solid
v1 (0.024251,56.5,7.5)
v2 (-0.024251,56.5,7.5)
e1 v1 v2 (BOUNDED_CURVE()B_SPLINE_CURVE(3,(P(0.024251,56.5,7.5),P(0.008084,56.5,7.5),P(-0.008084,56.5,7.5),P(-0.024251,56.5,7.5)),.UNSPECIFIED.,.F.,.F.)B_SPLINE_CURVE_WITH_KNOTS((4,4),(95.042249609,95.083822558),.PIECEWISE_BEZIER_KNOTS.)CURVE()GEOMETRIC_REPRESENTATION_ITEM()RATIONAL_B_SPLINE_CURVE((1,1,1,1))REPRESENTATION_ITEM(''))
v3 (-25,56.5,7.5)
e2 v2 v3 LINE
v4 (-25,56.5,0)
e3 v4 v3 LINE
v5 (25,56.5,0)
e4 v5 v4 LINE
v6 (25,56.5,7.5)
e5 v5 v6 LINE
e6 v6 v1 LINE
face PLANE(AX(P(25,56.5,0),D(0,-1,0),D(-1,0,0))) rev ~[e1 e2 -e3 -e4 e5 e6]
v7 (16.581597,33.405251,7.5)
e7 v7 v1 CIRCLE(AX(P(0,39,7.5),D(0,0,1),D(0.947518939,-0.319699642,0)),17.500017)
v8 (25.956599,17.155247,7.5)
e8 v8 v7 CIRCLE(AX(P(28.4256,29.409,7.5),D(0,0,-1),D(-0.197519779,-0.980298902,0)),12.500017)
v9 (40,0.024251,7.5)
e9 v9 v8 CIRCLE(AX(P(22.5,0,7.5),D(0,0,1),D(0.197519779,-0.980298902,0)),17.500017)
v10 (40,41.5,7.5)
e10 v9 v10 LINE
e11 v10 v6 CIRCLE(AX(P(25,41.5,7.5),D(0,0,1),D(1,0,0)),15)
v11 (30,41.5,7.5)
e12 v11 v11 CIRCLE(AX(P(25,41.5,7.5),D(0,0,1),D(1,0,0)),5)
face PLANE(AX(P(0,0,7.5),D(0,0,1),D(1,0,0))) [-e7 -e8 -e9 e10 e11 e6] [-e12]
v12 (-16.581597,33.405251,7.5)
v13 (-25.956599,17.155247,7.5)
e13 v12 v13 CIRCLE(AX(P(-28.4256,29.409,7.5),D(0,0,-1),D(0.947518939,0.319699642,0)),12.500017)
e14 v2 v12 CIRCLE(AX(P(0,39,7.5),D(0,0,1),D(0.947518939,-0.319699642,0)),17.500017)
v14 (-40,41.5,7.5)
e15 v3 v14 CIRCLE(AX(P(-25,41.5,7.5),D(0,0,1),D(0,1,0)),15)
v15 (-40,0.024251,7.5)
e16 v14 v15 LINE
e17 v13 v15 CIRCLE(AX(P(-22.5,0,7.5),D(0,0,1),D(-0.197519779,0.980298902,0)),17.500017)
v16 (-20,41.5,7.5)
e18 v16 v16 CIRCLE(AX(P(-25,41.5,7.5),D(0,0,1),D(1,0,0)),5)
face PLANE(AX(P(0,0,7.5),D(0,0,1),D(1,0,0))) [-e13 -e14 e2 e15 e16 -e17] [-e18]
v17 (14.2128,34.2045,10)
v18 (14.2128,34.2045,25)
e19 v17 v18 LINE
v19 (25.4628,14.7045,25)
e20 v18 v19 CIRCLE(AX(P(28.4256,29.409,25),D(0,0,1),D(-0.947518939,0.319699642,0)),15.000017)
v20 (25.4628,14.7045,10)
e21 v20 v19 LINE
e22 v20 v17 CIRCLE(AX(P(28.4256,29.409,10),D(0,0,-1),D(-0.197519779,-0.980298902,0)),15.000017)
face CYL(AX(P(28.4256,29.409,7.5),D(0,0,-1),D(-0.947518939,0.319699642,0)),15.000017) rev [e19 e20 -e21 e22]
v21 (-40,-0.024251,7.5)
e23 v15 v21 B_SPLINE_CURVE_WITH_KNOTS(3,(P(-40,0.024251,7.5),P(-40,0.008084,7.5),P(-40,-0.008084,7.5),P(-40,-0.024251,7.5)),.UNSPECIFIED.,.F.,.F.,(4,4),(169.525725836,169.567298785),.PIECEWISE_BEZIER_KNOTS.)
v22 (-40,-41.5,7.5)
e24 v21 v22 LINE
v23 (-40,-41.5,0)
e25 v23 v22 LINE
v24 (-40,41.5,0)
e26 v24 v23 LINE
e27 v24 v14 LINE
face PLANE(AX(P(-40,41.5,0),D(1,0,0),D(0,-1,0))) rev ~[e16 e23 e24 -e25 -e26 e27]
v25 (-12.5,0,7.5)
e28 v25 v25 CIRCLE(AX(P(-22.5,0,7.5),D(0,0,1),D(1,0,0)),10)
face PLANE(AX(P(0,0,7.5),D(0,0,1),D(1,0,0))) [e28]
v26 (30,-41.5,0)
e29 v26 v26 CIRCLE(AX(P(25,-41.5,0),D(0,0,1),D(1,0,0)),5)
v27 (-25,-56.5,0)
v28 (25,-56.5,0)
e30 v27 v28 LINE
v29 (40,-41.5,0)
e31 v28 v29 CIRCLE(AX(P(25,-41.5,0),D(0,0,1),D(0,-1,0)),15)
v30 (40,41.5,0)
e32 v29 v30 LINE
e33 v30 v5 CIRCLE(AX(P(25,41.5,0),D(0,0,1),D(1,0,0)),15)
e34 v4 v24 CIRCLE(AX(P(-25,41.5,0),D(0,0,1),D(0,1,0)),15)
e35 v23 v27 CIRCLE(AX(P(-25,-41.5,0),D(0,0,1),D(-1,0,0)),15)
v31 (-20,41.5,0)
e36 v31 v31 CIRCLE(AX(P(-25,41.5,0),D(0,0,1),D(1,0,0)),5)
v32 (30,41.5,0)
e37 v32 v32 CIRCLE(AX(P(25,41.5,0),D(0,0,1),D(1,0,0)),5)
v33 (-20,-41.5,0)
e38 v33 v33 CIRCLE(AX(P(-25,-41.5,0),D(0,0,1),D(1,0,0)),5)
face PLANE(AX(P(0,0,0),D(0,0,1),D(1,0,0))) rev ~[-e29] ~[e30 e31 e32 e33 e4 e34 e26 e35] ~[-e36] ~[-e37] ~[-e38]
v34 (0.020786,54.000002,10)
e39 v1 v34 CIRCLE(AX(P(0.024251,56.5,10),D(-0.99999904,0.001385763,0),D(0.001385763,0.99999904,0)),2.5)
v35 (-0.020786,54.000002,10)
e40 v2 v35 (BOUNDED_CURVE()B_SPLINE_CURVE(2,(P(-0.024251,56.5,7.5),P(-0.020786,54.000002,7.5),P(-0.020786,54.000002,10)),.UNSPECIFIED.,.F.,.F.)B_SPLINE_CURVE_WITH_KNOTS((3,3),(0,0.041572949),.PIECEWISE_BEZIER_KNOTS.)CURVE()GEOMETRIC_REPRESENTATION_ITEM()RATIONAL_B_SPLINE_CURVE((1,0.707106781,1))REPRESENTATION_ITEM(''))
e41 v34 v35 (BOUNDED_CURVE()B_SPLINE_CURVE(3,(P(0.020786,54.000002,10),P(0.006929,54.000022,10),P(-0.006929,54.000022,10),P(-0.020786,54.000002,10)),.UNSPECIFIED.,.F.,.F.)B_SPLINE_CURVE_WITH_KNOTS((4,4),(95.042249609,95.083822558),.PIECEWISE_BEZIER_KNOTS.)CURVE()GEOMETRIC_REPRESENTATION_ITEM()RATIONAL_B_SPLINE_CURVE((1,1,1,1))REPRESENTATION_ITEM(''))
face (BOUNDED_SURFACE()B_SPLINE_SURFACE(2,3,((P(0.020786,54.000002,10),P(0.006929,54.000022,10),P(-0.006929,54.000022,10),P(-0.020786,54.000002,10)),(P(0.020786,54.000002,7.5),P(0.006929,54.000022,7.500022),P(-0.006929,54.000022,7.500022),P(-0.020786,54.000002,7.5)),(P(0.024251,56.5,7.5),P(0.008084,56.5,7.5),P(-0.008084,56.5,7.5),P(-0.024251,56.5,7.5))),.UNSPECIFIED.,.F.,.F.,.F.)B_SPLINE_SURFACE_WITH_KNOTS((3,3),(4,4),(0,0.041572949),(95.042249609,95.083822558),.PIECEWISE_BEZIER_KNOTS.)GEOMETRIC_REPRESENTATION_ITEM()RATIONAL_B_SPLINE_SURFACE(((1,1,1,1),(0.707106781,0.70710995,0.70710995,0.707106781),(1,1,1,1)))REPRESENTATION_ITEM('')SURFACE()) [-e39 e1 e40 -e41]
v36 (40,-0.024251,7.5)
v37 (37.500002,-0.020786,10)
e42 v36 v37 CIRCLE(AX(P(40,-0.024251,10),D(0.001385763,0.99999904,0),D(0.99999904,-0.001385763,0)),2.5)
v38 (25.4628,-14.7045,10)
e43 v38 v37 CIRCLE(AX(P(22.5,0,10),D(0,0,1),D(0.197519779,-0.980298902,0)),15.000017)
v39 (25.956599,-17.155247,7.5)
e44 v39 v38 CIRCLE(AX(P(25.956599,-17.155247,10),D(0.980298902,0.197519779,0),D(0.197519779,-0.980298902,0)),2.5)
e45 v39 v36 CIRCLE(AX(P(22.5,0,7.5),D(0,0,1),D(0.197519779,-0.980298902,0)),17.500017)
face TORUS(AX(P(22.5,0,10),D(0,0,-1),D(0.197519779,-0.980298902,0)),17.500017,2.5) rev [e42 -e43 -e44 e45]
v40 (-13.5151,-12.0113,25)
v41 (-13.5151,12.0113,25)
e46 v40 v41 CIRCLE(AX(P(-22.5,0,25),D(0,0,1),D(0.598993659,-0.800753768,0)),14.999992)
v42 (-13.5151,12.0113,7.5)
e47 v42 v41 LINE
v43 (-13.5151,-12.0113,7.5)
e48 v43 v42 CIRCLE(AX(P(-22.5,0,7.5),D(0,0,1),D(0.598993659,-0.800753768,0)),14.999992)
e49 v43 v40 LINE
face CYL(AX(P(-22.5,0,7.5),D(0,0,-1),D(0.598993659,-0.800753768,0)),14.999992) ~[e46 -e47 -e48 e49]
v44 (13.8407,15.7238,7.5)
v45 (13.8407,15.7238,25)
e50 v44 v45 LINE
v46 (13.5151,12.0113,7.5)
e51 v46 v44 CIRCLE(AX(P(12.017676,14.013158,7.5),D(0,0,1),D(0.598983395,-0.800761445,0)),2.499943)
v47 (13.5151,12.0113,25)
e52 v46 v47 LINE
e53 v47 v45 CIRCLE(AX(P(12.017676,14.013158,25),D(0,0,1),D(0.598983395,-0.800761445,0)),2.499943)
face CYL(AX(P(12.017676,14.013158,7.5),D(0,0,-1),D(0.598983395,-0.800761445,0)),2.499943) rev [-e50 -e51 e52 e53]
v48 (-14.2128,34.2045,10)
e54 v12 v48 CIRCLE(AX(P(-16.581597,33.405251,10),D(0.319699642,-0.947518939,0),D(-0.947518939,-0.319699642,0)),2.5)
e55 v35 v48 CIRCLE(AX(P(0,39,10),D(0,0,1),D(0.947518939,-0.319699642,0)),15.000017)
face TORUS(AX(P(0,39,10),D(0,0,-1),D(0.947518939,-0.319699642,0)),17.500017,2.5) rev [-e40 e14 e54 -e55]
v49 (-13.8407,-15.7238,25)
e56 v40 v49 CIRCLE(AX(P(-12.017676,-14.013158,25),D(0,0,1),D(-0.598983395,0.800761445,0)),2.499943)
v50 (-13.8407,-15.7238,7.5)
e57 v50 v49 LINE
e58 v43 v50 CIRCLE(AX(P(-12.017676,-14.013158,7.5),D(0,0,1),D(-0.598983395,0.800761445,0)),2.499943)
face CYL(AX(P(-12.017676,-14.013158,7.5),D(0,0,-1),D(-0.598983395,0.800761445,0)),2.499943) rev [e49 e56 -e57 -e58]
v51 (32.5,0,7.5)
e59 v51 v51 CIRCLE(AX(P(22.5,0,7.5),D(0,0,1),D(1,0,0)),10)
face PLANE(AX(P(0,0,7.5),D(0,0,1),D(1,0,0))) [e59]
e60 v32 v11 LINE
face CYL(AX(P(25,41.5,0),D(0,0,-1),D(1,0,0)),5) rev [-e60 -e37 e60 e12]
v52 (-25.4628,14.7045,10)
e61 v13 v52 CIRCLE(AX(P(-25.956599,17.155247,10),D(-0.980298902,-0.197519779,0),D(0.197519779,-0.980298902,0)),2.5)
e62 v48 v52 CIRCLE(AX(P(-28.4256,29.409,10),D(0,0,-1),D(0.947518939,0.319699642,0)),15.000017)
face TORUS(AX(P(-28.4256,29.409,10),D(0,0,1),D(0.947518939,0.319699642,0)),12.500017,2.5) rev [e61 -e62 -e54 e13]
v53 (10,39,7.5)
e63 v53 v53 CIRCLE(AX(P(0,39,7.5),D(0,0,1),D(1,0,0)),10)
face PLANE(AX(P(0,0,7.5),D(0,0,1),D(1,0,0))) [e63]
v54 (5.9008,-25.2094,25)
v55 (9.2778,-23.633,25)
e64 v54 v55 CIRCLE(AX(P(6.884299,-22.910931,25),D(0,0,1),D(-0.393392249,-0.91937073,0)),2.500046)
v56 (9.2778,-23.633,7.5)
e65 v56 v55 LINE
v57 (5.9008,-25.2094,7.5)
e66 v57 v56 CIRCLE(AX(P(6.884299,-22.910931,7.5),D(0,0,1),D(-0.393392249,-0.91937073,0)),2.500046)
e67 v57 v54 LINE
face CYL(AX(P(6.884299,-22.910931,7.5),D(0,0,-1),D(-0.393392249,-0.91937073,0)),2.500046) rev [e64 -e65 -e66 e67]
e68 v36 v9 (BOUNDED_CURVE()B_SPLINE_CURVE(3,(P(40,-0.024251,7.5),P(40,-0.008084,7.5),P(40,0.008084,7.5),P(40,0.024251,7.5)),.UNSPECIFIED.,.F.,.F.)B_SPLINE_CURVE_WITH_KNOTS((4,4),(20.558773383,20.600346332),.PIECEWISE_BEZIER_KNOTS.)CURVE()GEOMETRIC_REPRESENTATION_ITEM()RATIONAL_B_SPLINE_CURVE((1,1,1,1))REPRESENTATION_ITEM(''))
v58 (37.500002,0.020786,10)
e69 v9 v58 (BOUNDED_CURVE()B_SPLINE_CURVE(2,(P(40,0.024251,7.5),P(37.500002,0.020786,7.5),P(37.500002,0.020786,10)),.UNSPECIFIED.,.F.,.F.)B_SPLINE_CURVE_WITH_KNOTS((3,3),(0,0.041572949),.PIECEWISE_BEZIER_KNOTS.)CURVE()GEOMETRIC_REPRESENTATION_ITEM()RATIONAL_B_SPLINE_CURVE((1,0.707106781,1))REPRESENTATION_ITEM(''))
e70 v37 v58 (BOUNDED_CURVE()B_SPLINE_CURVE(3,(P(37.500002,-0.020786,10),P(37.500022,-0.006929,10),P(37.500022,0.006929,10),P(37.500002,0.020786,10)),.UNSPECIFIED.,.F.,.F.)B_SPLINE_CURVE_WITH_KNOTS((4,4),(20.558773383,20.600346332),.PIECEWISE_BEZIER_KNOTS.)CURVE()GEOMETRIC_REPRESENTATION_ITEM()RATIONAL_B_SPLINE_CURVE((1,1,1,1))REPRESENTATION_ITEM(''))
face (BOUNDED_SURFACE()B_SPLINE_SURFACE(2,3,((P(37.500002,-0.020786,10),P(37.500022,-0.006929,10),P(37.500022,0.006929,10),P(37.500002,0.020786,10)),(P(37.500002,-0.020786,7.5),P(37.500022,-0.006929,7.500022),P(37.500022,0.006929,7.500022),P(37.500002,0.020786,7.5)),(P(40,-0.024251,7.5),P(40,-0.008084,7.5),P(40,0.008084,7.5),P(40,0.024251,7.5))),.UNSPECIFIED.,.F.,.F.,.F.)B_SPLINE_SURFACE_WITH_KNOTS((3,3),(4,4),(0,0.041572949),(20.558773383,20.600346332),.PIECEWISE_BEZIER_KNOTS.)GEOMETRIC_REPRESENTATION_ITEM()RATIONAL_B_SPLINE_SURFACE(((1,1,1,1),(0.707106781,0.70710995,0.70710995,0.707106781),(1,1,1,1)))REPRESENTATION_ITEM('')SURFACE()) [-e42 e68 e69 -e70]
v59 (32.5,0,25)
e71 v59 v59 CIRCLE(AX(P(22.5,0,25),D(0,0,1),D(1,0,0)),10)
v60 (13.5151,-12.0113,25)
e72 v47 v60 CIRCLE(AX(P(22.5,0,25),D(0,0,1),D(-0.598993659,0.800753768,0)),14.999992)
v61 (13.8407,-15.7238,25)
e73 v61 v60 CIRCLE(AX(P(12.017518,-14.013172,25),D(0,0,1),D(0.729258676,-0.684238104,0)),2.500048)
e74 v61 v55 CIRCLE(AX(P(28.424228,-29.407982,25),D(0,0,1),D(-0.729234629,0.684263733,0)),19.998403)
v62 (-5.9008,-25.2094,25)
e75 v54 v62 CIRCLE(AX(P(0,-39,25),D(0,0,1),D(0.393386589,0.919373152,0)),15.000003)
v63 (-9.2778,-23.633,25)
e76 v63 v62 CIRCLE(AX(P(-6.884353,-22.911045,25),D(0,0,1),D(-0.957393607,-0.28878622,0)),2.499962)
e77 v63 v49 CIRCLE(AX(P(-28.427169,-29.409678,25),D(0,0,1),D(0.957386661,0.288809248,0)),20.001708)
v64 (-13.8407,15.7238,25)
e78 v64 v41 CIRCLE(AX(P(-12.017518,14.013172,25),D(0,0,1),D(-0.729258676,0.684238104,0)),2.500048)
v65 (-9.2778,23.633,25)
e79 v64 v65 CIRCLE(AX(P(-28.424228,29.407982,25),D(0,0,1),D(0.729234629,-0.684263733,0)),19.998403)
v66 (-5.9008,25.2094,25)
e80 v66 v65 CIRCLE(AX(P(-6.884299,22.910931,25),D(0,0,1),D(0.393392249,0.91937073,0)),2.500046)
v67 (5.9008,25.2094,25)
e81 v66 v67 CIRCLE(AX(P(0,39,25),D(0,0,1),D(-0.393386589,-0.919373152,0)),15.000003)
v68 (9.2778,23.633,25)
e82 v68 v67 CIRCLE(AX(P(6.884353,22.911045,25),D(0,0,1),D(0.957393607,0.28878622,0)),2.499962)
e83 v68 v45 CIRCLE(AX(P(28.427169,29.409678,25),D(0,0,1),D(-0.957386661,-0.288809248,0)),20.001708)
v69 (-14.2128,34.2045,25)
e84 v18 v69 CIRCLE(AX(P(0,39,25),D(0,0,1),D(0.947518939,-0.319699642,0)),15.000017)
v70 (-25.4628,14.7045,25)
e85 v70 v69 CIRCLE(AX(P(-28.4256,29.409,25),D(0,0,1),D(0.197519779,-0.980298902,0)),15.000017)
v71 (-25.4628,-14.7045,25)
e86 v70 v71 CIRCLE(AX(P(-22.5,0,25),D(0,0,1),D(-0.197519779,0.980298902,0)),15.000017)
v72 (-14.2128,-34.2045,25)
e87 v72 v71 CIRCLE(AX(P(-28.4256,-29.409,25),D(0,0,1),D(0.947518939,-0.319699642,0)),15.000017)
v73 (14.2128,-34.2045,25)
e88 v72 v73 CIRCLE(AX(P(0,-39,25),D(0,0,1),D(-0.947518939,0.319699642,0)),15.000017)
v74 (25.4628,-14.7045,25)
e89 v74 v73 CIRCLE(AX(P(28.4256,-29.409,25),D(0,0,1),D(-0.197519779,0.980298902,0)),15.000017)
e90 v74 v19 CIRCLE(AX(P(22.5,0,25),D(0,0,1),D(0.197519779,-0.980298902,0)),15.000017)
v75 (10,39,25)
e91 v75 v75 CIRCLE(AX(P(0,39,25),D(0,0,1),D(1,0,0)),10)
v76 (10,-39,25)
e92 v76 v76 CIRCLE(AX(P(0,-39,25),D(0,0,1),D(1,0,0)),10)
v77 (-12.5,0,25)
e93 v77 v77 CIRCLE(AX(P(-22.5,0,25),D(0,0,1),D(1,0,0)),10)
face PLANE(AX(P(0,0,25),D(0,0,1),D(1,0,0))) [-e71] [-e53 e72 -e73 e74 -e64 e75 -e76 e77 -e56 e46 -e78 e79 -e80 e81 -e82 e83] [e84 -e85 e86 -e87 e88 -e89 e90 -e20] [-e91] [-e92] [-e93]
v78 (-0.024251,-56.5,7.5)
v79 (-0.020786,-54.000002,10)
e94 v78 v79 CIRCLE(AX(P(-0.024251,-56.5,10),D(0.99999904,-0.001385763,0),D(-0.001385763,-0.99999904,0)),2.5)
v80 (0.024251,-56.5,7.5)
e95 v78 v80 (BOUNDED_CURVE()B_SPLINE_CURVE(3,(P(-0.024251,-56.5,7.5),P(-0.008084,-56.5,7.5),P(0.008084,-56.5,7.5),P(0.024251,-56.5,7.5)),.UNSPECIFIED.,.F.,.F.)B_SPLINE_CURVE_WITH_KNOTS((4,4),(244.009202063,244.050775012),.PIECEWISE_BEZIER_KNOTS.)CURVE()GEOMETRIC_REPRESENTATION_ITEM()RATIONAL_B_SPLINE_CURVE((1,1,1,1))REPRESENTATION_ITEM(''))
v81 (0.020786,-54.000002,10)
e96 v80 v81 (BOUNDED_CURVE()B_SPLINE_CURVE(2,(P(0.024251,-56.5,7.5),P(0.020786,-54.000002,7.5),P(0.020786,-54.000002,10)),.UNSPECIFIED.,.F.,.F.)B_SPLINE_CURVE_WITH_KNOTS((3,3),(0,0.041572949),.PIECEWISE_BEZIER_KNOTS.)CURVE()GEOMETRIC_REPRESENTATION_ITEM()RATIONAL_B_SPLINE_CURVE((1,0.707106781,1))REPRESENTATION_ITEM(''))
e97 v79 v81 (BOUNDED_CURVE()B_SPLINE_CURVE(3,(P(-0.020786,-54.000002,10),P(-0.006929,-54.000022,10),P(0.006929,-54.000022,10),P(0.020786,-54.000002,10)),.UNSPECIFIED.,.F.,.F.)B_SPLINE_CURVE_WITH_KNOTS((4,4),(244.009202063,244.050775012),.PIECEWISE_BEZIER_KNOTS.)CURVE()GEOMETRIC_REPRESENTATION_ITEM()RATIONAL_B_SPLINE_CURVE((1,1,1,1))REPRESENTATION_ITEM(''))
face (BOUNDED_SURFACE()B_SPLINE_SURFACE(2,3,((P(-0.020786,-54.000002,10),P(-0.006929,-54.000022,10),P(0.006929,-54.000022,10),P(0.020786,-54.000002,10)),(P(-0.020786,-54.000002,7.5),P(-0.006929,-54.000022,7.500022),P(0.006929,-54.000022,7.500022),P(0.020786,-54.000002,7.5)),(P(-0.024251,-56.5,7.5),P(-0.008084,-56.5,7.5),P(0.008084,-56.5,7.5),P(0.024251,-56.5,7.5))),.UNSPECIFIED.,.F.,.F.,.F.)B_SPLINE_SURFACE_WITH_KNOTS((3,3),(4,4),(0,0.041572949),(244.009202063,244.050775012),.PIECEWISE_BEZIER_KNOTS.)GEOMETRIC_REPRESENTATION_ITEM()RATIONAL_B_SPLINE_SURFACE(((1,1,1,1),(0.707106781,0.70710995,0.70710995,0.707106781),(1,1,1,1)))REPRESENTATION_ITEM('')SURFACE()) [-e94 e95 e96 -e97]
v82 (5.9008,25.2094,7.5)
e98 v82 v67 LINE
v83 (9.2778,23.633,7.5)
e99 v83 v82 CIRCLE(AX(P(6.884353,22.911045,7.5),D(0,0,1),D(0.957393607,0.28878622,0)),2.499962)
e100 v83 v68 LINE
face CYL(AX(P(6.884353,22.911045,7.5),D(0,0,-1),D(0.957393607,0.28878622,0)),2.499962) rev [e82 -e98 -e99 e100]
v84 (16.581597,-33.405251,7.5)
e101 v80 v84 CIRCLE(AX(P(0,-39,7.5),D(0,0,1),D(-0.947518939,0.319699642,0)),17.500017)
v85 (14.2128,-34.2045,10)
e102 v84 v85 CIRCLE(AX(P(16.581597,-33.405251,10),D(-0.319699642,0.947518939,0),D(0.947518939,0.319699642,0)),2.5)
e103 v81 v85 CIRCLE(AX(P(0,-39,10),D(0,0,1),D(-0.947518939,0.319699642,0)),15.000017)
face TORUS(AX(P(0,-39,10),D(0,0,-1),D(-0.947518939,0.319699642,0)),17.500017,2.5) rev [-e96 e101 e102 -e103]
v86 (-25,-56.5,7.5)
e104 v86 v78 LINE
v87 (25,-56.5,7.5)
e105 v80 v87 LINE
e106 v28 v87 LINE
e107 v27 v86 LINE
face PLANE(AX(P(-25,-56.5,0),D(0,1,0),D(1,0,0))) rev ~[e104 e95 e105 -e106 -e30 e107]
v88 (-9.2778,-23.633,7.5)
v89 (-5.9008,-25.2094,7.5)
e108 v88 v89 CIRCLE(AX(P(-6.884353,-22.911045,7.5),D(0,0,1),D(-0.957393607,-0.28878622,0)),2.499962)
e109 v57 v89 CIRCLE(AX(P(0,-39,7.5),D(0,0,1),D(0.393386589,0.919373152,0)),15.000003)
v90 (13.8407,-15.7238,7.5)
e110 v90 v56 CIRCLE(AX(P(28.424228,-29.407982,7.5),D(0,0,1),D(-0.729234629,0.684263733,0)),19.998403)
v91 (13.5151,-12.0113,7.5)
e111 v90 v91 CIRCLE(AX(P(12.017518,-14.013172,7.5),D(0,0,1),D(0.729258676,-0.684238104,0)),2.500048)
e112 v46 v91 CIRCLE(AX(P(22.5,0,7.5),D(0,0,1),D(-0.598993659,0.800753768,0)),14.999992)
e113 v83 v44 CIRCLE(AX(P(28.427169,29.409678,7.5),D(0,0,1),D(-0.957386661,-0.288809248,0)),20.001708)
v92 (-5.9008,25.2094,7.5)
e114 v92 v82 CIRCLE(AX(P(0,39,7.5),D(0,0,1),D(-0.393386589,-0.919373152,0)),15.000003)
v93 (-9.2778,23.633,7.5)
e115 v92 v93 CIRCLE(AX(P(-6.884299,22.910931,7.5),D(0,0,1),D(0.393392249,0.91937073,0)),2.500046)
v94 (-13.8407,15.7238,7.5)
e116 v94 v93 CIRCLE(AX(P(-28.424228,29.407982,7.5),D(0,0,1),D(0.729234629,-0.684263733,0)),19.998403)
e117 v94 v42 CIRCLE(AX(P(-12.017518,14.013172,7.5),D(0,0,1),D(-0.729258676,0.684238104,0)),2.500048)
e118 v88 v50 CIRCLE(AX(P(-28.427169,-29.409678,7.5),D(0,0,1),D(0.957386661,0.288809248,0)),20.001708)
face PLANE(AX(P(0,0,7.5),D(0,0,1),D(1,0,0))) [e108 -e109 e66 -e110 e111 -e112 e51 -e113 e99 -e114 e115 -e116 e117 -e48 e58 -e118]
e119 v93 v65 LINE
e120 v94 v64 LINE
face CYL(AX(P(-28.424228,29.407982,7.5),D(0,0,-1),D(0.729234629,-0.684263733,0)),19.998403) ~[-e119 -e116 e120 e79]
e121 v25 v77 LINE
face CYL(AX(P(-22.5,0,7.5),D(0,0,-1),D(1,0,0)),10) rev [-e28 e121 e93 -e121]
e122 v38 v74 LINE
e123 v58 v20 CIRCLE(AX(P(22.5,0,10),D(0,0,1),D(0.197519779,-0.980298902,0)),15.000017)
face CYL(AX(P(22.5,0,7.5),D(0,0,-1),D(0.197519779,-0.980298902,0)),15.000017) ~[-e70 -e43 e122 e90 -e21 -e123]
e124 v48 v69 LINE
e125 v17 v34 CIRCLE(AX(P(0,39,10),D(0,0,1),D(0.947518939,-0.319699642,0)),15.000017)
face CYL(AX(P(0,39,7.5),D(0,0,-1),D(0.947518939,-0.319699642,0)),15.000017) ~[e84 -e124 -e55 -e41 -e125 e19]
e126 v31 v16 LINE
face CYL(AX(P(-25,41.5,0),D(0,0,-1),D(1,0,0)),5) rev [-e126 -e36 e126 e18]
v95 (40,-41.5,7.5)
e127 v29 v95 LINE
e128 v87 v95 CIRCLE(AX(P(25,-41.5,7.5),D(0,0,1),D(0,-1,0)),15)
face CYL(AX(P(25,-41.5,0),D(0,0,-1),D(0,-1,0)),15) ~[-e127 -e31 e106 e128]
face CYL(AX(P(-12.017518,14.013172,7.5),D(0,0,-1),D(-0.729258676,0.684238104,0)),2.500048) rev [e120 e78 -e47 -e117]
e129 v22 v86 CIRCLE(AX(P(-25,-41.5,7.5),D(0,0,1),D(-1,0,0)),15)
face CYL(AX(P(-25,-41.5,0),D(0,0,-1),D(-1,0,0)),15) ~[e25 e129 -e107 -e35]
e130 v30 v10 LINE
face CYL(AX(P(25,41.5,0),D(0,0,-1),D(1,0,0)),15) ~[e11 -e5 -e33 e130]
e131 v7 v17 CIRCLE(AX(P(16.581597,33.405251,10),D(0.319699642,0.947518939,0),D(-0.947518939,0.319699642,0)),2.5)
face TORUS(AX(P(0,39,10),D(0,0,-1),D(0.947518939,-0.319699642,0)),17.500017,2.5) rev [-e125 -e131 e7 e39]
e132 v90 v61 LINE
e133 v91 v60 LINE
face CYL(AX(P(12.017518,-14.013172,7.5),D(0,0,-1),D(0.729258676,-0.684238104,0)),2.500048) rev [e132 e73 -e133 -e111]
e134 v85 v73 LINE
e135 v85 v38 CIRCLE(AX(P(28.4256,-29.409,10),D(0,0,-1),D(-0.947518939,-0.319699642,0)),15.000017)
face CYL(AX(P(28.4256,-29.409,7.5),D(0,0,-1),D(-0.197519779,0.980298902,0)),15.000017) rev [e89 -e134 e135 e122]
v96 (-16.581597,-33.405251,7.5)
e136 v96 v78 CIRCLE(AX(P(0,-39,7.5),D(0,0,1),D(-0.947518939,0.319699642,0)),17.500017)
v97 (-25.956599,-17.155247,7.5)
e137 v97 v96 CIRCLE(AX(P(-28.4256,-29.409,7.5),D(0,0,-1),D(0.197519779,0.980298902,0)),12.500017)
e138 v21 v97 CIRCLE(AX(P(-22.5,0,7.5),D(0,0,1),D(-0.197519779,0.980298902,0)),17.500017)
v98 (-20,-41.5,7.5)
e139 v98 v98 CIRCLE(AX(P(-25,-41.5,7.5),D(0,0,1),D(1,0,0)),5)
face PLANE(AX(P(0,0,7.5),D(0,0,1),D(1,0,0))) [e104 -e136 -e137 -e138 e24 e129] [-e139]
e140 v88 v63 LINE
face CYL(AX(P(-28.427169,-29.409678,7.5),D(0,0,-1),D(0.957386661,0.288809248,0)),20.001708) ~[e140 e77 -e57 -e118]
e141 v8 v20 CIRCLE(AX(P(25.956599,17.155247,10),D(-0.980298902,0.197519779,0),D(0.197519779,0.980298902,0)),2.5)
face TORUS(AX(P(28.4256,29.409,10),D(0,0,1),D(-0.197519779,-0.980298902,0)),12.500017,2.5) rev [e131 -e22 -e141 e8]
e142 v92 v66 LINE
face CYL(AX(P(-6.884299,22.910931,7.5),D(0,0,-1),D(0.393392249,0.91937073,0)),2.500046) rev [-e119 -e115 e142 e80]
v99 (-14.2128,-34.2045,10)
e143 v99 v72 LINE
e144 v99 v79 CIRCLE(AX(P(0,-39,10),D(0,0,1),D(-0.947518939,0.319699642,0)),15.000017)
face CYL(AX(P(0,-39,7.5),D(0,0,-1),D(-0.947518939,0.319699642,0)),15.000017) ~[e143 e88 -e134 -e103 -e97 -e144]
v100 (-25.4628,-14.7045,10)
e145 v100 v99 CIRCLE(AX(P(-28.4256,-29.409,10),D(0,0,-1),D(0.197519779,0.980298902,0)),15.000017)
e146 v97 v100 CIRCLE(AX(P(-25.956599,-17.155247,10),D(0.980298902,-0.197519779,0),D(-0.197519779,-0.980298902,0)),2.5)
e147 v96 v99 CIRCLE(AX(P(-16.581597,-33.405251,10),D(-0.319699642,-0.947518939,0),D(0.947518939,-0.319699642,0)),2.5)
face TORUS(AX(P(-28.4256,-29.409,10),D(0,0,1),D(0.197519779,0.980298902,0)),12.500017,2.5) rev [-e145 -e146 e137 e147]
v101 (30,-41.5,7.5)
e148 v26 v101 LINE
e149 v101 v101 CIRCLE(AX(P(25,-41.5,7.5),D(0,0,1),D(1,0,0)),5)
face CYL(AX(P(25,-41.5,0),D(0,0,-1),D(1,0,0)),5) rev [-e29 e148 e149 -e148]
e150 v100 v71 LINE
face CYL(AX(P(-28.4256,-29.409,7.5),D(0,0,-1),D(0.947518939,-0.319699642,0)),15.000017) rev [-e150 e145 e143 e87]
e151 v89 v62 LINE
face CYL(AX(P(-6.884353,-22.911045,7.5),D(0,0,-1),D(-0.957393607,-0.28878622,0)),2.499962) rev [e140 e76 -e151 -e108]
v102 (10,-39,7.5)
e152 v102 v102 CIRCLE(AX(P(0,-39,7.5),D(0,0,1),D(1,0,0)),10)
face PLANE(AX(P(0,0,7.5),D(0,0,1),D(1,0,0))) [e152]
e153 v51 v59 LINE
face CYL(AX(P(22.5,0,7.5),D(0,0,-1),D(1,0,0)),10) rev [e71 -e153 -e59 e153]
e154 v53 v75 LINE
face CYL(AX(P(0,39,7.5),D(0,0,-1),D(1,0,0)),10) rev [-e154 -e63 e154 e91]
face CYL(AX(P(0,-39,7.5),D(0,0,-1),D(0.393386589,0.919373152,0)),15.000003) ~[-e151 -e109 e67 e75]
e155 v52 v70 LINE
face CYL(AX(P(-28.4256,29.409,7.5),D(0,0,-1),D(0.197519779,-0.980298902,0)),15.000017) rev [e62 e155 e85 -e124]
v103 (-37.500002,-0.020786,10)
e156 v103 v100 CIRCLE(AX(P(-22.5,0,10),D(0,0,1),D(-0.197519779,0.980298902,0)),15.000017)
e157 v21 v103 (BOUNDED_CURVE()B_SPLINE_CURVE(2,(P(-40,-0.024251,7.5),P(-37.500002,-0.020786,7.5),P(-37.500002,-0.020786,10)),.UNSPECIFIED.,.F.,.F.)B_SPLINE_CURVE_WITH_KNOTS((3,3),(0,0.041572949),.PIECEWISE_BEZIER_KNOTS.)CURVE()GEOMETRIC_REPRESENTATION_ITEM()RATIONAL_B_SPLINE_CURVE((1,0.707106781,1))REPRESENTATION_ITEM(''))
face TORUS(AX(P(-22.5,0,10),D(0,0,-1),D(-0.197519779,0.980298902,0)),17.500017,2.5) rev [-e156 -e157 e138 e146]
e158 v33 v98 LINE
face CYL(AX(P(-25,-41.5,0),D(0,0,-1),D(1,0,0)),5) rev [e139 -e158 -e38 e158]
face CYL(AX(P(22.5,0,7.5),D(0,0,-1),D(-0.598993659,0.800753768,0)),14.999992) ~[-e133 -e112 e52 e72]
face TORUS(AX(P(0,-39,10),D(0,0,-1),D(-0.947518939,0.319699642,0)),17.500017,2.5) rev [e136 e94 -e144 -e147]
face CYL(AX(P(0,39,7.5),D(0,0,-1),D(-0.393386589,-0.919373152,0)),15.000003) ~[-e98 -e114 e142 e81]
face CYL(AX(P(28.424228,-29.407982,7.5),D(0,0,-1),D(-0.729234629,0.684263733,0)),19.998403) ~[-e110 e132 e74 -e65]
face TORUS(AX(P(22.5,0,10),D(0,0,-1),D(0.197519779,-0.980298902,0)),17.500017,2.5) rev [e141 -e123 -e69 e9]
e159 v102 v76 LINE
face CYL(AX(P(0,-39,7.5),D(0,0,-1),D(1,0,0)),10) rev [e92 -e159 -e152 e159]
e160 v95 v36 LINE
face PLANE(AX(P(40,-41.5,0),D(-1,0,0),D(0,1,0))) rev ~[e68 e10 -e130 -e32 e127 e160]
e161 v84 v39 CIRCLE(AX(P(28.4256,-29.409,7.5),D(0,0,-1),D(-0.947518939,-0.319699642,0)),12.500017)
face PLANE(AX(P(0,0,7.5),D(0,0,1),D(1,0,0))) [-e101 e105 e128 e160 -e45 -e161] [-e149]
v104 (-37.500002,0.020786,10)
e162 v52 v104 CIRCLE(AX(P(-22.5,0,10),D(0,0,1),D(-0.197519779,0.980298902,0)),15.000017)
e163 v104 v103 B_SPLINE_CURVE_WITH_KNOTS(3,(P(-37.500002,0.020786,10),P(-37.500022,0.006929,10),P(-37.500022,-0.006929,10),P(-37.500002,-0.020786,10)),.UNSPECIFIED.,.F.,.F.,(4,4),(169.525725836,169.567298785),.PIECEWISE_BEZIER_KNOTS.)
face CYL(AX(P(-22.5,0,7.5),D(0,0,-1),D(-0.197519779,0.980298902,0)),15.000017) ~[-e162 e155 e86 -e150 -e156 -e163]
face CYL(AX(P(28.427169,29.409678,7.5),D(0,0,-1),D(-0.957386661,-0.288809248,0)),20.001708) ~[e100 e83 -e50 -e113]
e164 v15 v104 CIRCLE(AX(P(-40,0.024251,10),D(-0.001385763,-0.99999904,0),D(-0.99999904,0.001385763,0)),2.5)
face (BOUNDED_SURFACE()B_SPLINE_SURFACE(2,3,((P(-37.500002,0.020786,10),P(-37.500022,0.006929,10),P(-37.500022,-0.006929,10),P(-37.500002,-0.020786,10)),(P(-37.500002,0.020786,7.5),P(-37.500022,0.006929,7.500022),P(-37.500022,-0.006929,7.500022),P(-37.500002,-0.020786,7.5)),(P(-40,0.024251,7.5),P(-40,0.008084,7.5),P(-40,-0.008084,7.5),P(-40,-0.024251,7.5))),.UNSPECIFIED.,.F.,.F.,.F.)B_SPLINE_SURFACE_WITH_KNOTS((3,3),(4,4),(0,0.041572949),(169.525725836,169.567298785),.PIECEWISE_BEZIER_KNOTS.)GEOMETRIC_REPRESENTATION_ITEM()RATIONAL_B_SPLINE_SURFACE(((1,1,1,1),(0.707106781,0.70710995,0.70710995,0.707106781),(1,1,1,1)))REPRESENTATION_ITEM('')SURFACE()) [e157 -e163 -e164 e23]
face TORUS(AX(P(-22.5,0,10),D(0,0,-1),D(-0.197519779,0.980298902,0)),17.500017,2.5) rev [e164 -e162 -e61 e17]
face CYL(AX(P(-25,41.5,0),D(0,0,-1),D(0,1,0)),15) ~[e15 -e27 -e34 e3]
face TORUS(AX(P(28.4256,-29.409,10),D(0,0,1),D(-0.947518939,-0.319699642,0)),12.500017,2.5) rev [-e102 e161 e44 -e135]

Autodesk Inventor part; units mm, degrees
ref_plane "YZ Plane" through (0, 0, 0) normal (1, 0, 0) x (0, 1, 0)
ref_plane "XZ Plane" through (0, 0, 0) normal (0, 1, 0) x (-1, 0, 0)
ref_plane "XY Plane" through (0, 0, 0) normal (0, 0, 1) x (1, 0, 0)
sketch "Sketch1" plane through (0, 0, 0) normal (0, 0, 1) x (1, 0, 0)
  line L0 (-25, -56.5) -> (25, -56.5)
  line L1 (40, -41.5) -> (40, 41.5)
  line L2 (25, 56.5) -> (-25, 56.5)
  line L3 (-40, 41.5) -> (-40, -41.5)
  arc A0 (40, 41.5) -> (25, 56.5) centre (25, 41.5) ccw
  arc A1 (25, -56.5) -> (40, -41.5) centre (25, -41.5) ccw
  arc A2 (-40, -41.5) -> (-25, -56.5) centre (-25, -41.5) ccw
  arc A3 (-25, 56.5) -> (-40, 41.5) centre (-25, 41.5) ccw
  circle A4 centre (25, 41.5) radius 5
  circle A5 centre (25, -41.5) radius 5
  circle A6 centre (-25, -41.5) radius 5
  circle A7 centre (-25, 41.5) radius 5
  point P0 (0, 0)
  point P1 (0, 56.5)
  point P2 (40, 0)
  dimension "d0" = 113
  dimension "d1" = 80
  dimension "d2" = 15
  dimension "d3" = 10
extrude "Extrusion1" add sketch "Sketch1" along normal blind 7.5
sketch "Sketch2" plane through (0, 0, 7.5) normal (0, 0, 1) x (1, 0, 0)
  line L0 (40, -41.5) -> (40, 41.5) projected
  line L1 (25, 56.5) -> (-25, 56.5) projected
  circle A0 centre (0, 39) radius 10
  arc A1 (14.2128, 34.2045) -> (-14.2128, 34.2045) centre (0, 39) ccw
  arc A2 (14.2128, 34.2045) -> (25.4628, 14.7045) centre (28.4256, 29.409) ccw
  arc A3 (25.4628, -14.7045) -> (25.4628, 14.7045) centre (22.5, 0) ccw
  circle A4 centre (22.5, 0) radius 10
  arc A5 (-5.9008, 25.2094) -> (5.9008, 25.2094) centre (0, 39) ccw
  arc A6 (9.2778, 23.633) -> (13.8407, 15.7238) centre (28.4256, 29.409) ccw
  arc A7 (13.5151, 12.0113) -> (13.5151, -12.0113) centre (22.5, 0) ccw
  arc A8 (9.2778, 23.633) -> (5.9008, 25.2094) centre (6.8843, 22.911) ccw
  arc A9 (13.5151, 12.0113) -> (13.8407, 15.7238) centre (12.0176, 14.0132) ccw
  arc A10 (-5.9008, 25.2094) -> (-9.2778, 23.633) centre (-6.8843, 22.911) ccw
  arc A11 (25.4628, -14.7045) -> (14.2128, -34.2045) centre (28.4256, -29.409) ccw
  arc A12 (-14.2128, -34.2045) -> (14.2128, -34.2045) centre (0, -39) ccw
  circle A13 centre (0, -39) radius 10
  arc A14 (-14.2128, -34.2045) -> (-25.4628, -14.7045) centre (-28.4256, -29.409) ccw
  arc A15 (-25.4628, 14.7045) -> (-25.4628, -14.7045) centre (-22.5, 0) ccw
  circle A16 centre (-22.5, 0) radius 10
  arc A17 (-25.4628, 14.7045) -> (-14.2128, 34.2045) centre (-28.4256, 29.409) ccw
  arc A18 (13.8407, -15.7238) -> (13.5151, -12.0113) centre (12.0176, -14.0132) ccw
  arc A19 (13.8407, -15.7238) -> (9.2778, -23.633) centre (28.4256, -29.409) ccw
  arc A20 (5.9008, -25.2094) -> (9.2778, -23.633) centre (6.8843, -22.911) ccw
  arc A21 (-13.8407, 15.7238) -> (-13.5151, 12.0113) centre (-12.0176, 14.0132) ccw
  arc A22 (-13.8407, 15.7238) -> (-9.2778, 23.633) centre (-28.4256, 29.409) ccw
  arc A23 (-13.5151, -12.0113) -> (-13.5151, 12.0113) centre (-22.5, 0) ccw
  arc A24 (-9.2778, -23.633) -> (-13.8407, -15.7238) centre (-28.4256, -29.409) ccw
  arc A25 (-13.5151, -12.0113) -> (-13.8407, -15.7238) centre (-12.0176, -14.0132) ccw
  arc A26 (5.9008, -25.2094) -> (-5.9008, -25.2094) centre (0, -39) ccw
  arc A27 (-9.2778, -23.633) -> (-5.9008, -25.2094) centre (-6.8843, -22.911) ccw
  point P0 (0, 0)
  point P1 (0, 54)
  point P2 (37.5, 0)
  point P3 (0, -54)
  point P4 (-37.5, 0)
  point P5 (0, 0)
  point P6 (9.2778, -23.633)
  dimension "d6" = 20
  dimension "d7" = 15
  dimension "d8" = 2.5
  dimension "d9" = 15
  dimension "d10" = 2.5
  dimension "d11" = 20
  dimension "d12" = 2.5
  dimension "d13" = 5
  dimension "d14" = 5
  dimension "d17" = 360
  dimension "d21" = 360
extrude "Extrusion2" add sketch "Sketch2" along normal blind 17.5
fillet "Fillet1" radius 2.5 8 edges at (37.5, 0, 7.5) (15.4328, -21.9131, 7.5) (0, -54, 7.5) (-15.4328, -21.9131, 7.5) (-37.5, 0, 7.5) (-15.4328, 21.9131, 7.5) (0, 54, 7.5) (15.4328, 21.9131, 7.5)
properties part number "DP807"
